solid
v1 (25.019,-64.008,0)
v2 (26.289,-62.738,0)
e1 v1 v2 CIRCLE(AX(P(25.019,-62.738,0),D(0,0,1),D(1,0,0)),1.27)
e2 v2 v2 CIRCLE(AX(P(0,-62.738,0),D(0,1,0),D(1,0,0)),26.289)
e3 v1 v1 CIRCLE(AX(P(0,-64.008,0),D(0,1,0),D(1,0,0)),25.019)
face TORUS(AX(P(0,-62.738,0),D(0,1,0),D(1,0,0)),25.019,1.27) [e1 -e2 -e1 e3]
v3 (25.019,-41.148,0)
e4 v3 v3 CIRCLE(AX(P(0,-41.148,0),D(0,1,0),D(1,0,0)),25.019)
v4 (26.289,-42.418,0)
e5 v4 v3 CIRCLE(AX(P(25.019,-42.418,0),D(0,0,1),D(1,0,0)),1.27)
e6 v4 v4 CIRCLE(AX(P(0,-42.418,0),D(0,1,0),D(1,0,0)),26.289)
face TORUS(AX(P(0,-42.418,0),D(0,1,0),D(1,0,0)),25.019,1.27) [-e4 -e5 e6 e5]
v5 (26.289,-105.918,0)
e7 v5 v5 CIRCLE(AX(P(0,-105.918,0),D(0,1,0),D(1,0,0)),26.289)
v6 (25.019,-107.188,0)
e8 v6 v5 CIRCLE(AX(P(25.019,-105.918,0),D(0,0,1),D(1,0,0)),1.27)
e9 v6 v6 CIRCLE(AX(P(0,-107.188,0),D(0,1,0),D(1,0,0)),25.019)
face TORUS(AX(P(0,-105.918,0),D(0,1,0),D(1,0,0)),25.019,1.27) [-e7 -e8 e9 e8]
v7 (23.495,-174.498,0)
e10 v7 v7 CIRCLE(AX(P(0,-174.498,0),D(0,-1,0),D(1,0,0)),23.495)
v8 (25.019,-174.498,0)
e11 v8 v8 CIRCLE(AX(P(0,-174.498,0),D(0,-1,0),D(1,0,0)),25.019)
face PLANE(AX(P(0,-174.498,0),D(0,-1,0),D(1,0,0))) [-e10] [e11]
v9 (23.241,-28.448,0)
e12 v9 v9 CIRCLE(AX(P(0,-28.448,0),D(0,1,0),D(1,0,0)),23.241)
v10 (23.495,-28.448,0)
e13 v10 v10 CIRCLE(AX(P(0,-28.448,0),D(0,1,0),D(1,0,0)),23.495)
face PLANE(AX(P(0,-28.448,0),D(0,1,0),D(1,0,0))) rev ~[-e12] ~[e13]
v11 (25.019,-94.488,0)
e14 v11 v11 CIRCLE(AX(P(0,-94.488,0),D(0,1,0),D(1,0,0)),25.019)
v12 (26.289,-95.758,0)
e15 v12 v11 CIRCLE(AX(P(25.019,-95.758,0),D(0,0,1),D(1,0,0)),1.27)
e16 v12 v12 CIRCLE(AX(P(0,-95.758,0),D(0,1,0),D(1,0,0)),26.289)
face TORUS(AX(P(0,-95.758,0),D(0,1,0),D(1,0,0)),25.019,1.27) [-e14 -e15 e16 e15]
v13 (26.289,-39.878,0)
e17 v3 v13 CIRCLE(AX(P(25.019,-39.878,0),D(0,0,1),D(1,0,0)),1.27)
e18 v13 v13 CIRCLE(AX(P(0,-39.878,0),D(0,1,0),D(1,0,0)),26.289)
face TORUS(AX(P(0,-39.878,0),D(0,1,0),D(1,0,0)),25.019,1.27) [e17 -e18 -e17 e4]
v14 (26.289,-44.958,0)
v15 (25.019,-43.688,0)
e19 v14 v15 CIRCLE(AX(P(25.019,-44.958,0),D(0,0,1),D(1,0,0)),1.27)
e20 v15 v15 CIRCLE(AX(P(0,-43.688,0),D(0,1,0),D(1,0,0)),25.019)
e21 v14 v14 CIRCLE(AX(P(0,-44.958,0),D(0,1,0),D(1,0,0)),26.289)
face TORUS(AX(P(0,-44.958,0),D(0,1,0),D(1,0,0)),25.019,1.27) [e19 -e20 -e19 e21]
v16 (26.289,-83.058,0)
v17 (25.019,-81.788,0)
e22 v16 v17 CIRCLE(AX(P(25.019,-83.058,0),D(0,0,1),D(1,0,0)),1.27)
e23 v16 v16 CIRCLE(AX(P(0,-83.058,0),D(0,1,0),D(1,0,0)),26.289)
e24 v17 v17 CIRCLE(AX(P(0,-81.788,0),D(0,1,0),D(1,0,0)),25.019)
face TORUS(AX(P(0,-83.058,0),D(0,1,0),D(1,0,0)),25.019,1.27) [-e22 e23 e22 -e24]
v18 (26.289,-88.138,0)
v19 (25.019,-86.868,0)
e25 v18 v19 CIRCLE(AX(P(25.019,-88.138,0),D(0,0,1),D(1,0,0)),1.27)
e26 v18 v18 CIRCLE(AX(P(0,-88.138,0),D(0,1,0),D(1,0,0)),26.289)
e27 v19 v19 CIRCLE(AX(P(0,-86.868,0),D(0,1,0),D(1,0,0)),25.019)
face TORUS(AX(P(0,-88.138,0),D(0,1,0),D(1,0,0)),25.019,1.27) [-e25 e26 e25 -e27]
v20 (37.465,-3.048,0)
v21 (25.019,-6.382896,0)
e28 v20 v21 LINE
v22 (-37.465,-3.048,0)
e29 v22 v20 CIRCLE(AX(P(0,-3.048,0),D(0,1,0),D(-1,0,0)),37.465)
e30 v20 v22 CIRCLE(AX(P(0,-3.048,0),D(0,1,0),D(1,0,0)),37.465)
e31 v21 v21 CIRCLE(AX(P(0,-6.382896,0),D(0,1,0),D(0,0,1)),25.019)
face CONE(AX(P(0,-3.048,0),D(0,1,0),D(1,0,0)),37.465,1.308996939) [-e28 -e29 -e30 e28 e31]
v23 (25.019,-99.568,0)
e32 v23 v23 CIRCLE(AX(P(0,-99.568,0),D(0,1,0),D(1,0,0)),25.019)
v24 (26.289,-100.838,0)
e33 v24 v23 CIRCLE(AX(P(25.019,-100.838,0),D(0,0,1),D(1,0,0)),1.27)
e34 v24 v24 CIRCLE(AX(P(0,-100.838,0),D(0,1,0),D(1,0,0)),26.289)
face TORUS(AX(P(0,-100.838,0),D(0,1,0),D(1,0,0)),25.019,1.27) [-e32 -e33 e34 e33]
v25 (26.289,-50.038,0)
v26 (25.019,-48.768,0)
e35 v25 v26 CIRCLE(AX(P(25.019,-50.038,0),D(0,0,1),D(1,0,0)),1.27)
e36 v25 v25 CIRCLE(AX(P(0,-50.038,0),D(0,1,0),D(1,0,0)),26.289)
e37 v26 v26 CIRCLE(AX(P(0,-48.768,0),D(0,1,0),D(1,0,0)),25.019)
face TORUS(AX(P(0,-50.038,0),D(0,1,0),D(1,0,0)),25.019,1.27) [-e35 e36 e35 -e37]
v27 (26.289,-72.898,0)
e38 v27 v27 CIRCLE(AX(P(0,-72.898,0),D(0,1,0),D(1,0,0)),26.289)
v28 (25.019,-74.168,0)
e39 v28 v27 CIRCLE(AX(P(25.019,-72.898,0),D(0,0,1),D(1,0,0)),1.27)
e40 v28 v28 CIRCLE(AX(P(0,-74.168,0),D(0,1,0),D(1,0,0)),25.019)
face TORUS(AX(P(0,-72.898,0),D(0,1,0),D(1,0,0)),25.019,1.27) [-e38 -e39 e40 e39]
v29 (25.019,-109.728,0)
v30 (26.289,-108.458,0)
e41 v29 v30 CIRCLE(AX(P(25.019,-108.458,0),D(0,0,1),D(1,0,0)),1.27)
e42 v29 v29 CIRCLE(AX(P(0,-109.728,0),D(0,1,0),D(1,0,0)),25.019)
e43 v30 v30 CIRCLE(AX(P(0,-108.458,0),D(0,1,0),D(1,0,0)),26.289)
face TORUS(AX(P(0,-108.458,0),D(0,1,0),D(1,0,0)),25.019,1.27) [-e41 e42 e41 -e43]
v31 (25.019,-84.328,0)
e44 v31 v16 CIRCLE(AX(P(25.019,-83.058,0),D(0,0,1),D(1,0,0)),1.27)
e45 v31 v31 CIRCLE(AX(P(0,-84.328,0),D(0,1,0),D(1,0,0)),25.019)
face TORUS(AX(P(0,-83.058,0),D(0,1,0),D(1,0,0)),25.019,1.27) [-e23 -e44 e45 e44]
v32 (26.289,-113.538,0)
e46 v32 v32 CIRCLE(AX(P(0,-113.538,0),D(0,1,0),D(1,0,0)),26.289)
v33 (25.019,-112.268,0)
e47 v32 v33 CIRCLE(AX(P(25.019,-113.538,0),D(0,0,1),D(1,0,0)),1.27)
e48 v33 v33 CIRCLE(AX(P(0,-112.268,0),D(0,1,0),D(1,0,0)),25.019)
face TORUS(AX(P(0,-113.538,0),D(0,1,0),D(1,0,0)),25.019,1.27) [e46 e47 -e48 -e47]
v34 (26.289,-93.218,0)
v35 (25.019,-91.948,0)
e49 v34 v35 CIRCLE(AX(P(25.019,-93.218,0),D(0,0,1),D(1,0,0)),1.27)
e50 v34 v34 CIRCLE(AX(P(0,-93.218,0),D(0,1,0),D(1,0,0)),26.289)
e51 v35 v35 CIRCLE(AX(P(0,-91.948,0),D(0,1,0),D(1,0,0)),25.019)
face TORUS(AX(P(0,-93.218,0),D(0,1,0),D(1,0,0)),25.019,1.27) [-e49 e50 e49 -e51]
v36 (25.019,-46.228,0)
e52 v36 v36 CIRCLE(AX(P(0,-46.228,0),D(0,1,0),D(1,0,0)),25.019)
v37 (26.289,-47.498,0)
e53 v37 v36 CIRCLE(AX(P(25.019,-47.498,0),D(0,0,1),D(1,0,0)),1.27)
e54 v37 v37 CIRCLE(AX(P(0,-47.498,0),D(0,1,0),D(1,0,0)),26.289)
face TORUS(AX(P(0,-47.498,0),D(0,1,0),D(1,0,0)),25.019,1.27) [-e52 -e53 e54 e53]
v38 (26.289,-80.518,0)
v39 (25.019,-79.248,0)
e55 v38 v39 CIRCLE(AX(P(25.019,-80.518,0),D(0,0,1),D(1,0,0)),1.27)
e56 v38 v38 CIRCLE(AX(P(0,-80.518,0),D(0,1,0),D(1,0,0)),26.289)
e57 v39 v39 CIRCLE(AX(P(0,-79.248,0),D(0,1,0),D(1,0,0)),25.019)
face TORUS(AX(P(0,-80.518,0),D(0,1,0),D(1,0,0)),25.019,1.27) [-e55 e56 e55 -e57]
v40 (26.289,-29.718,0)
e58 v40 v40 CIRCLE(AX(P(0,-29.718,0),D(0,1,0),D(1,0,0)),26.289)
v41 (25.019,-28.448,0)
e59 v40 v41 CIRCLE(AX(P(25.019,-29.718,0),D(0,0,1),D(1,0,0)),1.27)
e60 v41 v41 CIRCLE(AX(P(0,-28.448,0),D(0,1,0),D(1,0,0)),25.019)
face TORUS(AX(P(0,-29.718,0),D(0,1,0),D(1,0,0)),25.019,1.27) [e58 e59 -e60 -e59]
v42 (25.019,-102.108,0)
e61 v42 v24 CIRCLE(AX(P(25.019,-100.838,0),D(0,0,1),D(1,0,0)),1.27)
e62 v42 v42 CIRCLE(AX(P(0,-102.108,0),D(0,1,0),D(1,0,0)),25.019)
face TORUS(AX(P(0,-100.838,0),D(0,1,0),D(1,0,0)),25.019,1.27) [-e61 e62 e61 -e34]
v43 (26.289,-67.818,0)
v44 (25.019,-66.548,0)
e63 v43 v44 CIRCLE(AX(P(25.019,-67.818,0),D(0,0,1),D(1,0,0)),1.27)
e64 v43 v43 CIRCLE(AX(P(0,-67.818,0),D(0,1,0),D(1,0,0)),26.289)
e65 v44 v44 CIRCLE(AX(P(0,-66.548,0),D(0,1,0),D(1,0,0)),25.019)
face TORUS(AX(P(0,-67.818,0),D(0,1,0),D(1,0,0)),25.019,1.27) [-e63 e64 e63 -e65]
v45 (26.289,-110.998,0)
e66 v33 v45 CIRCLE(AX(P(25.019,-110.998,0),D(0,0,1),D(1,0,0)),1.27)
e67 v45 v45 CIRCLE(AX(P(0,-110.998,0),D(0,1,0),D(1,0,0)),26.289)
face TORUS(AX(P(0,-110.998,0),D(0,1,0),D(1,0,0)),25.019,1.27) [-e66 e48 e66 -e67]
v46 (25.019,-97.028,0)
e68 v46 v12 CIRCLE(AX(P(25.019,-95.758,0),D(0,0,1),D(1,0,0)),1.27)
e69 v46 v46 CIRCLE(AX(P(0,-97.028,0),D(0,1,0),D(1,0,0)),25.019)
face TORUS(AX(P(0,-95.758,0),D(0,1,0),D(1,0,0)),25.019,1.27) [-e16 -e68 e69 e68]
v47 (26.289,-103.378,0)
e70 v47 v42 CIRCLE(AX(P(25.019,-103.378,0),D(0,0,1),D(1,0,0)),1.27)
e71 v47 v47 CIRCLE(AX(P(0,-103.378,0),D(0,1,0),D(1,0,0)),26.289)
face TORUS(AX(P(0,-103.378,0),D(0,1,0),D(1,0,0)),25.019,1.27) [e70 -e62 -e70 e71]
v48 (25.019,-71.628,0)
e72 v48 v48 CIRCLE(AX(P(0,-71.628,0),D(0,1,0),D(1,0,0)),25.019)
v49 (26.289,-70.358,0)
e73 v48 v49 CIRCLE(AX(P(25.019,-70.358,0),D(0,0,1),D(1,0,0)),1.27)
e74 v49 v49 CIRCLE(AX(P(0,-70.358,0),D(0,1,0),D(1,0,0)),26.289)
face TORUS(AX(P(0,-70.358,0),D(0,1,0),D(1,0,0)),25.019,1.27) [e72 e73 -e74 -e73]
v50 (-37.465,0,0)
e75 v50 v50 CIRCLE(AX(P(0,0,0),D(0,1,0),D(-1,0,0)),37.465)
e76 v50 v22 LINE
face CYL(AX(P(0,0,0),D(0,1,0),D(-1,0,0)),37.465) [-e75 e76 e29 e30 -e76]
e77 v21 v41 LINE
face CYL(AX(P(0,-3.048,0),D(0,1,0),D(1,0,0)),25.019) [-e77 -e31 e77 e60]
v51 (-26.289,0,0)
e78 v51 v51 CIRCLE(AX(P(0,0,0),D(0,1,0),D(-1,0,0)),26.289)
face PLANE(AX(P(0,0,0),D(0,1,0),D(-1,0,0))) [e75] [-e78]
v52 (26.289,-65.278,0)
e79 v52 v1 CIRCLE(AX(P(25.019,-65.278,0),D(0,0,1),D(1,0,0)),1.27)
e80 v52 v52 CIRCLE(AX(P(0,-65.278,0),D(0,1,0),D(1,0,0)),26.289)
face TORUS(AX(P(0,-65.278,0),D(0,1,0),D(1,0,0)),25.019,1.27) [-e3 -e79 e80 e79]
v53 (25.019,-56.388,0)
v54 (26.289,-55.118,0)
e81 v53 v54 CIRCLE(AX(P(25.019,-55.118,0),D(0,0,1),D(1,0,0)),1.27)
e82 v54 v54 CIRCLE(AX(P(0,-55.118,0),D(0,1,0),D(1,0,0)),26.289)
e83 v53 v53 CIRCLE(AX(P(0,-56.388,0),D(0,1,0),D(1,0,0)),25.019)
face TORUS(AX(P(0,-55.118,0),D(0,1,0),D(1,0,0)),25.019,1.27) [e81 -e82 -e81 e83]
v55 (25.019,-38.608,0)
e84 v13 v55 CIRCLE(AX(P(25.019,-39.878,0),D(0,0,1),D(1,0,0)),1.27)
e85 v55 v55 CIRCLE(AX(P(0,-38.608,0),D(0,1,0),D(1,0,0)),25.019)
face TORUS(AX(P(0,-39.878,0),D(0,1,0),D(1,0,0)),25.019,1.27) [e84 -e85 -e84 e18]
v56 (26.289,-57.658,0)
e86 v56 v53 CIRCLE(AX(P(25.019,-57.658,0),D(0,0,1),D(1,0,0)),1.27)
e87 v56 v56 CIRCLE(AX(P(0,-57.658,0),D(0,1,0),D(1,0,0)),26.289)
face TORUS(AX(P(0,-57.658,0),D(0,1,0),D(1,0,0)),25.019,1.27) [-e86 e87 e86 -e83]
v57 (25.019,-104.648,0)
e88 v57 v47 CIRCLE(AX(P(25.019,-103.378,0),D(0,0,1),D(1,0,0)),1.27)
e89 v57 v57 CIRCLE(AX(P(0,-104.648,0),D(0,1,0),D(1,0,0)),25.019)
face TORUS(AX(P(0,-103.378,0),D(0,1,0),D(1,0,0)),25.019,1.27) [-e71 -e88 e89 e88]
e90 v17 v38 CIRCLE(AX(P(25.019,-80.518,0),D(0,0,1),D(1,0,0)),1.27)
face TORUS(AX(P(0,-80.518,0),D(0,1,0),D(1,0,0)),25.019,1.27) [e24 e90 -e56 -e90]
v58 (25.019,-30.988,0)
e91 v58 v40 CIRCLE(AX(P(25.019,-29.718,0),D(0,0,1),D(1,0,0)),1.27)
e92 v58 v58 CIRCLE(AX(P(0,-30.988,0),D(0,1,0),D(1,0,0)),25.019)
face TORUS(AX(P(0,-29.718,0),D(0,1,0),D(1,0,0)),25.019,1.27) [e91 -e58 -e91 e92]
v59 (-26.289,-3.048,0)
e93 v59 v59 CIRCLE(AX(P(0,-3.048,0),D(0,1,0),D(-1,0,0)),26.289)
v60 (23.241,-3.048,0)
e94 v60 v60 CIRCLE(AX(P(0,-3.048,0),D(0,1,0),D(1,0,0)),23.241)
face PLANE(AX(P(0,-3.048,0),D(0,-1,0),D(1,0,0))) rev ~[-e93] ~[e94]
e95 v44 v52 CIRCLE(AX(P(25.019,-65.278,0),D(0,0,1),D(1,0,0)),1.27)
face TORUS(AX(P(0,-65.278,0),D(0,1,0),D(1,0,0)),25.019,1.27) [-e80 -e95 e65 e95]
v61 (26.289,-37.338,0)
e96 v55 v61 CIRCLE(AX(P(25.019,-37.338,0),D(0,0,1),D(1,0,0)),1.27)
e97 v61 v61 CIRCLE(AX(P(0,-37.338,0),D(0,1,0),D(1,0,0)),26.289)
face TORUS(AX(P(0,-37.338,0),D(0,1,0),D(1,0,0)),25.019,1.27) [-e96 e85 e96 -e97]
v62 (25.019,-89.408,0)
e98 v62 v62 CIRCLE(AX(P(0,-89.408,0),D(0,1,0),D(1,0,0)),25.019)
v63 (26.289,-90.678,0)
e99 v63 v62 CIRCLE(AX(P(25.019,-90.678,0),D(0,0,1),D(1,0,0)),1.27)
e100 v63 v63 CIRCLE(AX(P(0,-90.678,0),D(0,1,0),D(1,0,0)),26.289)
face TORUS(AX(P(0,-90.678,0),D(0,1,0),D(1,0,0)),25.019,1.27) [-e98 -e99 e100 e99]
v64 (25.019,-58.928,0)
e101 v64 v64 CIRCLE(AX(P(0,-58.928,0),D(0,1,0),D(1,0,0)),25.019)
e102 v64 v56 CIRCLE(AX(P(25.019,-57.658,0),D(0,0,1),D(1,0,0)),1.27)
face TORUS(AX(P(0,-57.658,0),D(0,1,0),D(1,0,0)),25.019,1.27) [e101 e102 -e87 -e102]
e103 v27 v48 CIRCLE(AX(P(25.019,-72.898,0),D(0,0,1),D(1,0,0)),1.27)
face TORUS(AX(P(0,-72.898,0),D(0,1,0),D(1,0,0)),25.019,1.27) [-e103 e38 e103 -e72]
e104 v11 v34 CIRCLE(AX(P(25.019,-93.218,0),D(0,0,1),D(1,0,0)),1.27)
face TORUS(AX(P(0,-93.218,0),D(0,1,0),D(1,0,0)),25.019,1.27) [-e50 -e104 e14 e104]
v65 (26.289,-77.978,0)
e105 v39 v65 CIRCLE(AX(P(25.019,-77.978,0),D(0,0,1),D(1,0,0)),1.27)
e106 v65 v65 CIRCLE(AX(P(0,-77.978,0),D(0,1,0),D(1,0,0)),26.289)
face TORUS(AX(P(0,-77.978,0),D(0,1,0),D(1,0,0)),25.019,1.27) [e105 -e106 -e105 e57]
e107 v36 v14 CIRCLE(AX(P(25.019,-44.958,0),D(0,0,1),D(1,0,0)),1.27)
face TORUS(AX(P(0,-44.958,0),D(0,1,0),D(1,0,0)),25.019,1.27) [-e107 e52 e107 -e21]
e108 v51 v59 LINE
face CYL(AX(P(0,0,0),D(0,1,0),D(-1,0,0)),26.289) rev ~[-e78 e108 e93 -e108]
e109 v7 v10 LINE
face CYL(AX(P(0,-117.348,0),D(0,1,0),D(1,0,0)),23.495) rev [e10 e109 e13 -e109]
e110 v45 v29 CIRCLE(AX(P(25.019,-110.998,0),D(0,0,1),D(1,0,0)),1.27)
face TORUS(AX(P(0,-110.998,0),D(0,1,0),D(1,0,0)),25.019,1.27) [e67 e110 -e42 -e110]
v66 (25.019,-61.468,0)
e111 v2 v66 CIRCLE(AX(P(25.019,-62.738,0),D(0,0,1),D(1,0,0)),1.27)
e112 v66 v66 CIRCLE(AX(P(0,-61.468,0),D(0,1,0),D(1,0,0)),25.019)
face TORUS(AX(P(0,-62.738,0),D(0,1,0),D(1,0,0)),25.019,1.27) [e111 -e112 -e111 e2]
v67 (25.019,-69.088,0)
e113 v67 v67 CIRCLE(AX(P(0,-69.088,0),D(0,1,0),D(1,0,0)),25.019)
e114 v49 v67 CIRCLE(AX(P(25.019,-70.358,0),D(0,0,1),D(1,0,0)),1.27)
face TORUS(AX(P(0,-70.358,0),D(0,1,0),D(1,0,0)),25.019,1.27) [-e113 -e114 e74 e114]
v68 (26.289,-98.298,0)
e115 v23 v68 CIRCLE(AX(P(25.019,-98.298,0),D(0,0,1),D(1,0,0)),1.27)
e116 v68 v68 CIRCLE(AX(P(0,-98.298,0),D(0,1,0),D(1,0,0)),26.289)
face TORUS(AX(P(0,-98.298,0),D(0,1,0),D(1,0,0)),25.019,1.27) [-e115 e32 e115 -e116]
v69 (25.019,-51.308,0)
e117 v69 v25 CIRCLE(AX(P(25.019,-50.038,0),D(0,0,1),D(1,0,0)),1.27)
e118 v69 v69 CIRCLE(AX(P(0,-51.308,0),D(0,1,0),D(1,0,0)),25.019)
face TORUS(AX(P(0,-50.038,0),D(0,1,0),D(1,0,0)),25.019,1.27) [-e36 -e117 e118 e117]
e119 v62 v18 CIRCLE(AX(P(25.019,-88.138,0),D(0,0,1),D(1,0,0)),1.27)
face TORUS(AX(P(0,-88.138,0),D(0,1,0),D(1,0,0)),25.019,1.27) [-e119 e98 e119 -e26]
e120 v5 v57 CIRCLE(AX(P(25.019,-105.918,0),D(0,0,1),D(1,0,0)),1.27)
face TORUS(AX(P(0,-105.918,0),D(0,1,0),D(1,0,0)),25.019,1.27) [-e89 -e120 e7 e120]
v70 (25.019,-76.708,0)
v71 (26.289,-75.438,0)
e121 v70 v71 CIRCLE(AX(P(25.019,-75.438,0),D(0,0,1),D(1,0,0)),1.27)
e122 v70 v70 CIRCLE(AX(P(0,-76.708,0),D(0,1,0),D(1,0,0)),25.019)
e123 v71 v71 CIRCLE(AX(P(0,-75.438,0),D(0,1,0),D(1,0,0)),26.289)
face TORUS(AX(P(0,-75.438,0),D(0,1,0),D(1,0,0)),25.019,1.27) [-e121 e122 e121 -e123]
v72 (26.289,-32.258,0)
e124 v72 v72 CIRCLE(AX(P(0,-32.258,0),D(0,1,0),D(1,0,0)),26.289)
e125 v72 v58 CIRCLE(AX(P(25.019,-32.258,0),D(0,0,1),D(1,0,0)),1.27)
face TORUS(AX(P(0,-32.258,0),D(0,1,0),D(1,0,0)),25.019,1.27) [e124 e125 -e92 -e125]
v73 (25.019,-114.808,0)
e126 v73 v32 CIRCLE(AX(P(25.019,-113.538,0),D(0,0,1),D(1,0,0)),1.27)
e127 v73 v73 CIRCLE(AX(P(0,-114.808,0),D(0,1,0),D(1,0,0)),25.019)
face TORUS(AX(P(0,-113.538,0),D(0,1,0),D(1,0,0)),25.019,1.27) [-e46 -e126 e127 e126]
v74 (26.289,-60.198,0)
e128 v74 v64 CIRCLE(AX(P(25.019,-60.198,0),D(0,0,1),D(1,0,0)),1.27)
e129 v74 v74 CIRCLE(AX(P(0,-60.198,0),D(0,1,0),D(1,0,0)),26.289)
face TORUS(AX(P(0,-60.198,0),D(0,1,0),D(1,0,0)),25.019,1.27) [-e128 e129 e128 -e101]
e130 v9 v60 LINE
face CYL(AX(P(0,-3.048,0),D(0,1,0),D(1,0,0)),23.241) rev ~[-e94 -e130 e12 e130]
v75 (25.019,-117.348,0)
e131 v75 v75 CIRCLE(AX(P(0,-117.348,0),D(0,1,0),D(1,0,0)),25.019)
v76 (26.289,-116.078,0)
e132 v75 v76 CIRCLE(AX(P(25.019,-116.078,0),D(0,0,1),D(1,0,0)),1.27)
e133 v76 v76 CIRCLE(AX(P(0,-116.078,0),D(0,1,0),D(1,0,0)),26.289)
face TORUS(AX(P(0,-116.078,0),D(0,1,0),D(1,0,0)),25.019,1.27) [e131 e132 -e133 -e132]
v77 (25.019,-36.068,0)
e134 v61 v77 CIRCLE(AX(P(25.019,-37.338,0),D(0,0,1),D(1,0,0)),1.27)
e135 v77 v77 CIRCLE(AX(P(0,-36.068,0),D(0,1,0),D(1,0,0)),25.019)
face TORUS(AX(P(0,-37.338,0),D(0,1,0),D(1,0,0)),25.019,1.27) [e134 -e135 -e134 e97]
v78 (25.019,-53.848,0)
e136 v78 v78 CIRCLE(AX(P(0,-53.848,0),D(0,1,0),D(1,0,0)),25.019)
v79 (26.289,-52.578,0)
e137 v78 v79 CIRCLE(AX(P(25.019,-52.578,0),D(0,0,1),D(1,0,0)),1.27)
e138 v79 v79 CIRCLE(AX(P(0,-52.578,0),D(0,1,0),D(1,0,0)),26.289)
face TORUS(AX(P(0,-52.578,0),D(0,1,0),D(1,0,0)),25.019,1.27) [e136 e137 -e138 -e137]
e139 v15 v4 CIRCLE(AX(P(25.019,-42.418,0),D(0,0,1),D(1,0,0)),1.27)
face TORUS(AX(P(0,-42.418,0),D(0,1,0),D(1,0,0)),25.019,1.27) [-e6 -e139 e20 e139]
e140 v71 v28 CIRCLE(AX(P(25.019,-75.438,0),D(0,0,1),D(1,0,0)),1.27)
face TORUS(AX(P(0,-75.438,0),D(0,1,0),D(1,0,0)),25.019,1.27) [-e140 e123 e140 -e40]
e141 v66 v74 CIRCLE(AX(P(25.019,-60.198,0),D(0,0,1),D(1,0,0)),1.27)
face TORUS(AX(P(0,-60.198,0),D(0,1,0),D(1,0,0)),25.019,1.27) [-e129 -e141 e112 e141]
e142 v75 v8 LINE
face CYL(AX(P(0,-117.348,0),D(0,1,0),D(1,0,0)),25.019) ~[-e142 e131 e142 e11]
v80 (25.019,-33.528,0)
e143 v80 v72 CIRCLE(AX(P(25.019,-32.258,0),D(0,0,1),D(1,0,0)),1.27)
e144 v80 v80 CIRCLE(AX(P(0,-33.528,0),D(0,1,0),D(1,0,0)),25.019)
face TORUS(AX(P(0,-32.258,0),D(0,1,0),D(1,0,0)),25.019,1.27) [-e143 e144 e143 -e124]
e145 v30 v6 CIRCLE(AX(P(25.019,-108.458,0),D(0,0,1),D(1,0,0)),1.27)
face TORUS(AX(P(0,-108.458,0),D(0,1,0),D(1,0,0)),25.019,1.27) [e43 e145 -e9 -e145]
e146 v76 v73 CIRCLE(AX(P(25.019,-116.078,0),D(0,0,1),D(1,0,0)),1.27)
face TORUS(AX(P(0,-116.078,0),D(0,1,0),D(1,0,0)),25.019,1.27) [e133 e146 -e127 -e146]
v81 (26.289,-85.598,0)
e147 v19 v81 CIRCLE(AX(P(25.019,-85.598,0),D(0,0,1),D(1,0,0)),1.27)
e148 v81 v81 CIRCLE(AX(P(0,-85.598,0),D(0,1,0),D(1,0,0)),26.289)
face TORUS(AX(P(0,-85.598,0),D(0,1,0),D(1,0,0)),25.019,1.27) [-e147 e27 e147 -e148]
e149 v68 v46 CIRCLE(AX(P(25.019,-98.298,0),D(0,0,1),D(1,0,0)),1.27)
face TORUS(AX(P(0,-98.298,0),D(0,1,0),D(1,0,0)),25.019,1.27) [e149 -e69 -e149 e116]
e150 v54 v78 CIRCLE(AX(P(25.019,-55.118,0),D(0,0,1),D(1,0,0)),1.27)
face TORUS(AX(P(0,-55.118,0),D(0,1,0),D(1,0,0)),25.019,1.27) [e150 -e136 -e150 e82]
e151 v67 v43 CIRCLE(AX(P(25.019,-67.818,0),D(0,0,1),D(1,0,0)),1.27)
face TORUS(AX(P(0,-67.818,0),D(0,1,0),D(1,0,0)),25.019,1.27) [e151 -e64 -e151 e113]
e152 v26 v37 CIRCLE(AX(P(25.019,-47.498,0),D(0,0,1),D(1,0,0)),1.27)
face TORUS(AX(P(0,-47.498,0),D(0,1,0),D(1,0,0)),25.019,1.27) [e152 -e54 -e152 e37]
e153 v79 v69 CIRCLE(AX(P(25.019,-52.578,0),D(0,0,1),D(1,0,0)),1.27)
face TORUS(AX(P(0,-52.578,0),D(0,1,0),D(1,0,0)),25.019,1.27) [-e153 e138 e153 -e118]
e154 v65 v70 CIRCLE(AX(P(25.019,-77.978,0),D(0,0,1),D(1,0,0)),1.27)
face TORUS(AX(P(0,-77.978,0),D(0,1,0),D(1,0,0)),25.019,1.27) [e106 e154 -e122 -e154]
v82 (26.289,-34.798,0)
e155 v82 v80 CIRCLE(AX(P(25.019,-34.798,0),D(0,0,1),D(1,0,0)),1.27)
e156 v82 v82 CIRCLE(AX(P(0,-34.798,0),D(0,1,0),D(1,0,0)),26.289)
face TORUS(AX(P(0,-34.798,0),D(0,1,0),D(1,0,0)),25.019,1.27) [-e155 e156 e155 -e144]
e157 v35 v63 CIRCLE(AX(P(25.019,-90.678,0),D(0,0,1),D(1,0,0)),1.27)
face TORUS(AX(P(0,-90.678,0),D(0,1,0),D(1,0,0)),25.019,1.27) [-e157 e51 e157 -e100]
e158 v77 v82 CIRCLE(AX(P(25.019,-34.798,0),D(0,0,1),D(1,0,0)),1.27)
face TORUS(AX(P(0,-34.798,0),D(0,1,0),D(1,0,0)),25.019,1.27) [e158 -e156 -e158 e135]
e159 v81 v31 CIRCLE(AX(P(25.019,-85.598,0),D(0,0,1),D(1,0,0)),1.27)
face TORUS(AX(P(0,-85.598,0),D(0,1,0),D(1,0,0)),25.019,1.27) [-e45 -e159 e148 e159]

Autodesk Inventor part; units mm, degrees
ref_plane "YZ Plane" through (0, 0, 0) normal (1, 0, 0) x (0, 1, 0)
ref_plane "XZ Plane" through (0, 0, 0) normal (0, 1, 0) x (-1, 0, 0)
ref_plane "XY Plane" through (0, 0, 0) normal (0, 0, 1) x (1, 0, 0)
sketch "Sketch1" plane through (0, 0, 0) normal (0, 1, 0) x (-1, 0, 0)
  circle A0 centre (0, 0) radius 37.465
  circle A1 centre (0, 0) radius 26.289
  dimension "d0" = 74.93
  dimension "d1" = 52.578
extrude "Extrusion1" add sketch "Sketch1" against normal blind 3.048
sketch "Sketch2" plane through (0, -3.048, 0) normal (0, -1, 0) x (1, 0, 0)
  circle A0 centre (0, 0) radius 37.465
  circle A1 centre (0, 0) radius 37.465 projected
extrude "Extrusion2" add sketch "Sketch2" along normal blind 6.35 draft -75
sketch "Sketch3" plane through (0, -3.048, 0) normal (0, 1, 0) x (1, 0, 0)
  circle A0 centre (0, 0) radius 23.241
  circle A1 centre (0, 0) radius 26.289 projected
  dimension "d6" = 3.048
extrude "Extrusion3" cut sketch "Sketch3" against normal up to surface (6.35 mm away) contours A0
sketch "Sketch4" plane through (0, -3.048, 0) normal (0, 1, 0) x (1, 0, 0)
  circle A0 centre (0, 0) radius 23.241
  circle A1 centre (0, 0) radius 23.241 projected
  circle A2 centre (0, 0) radius 25.019
  dimension "d9" = 50.038
extrude "Extrusion4" add sketch "Sketch4" against normal blind 25.4
sketch "Sketch5" plane through (0, 0, 0) normal (0, 0, 1) x (1, 0, 0)
  line L0 (-25.019, -28.448) -> (25.019, -28.448) projected
  line L1 (25.019, -28.448) -> (25.019, -29.718)
  circle A0 centre (25.019, -29.718) radius 1.27
  line L2 (23.241, -28.448) -> (-23.241, -28.448) projected
  line L3 (23.241, -28.448) -> (112.141, -28.448) construction
  circle A1 centre (25.019, -32.258) radius 1.27
  circle A2 centre (25.019, -34.798) radius 1.27
  circle A3 centre (25.019, -37.338) radius 1.27
  circle A4 centre (25.019, -39.878) radius 1.27
  circle A5 centre (25.019, -42.418) radius 1.27
  circle A6 centre (25.019, -44.958) radius 1.27
  circle A7 centre (25.019, -47.498) radius 1.27
  circle A8 centre (25.019, -50.038) radius 1.27
  circle A9 centre (25.019, -52.578) radius 1.27
  circle A10 centre (25.019, -55.118) radius 1.27
  circle A11 centre (25.019, -57.658) radius 1.27
  circle A12 centre (25.019, -60.198) radius 1.27
  circle A13 centre (25.019, -62.738) radius 1.27
  circle A14 centre (25.019, -65.278) radius 1.27
  circle A15 centre (25.019, -67.818) radius 1.27
  circle A16 centre (25.019, -70.358) radius 1.27
  circle A17 centre (25.019, -72.898) radius 1.27
  circle A18 centre (25.019, -75.438) radius 1.27
  circle A19 centre (25.019, -77.978) radius 1.27
  circle A20 centre (25.019, -80.518) radius 1.27
  circle A21 centre (25.019, -83.058) radius 1.27
  circle A22 centre (25.019, -85.598) radius 1.27
  circle A23 centre (25.019, -88.138) radius 1.27
  circle A24 centre (25.019, -90.678) radius 1.27
  circle A25 centre (25.019, -93.218) radius 1.27
  circle A26 centre (25.019, -95.758) radius 1.27
  circle A27 centre (25.019, -98.298) radius 1.27
  circle A28 centre (25.019, -100.838) radius 1.27
  circle A29 centre (25.019, -103.378) radius 1.27
  circle A30 centre (25.019, -105.918) radius 1.27
  circle A31 centre (25.019, -108.458) radius 1.27
  circle A32 centre (25.019, -110.998) radius 1.27
  circle A33 centre (25.019, -113.538) radius 1.27
  circle A34 centre (25.019, -116.078) radius 1.27
  line L4 (25.019, -28.448) -> (23.495, -28.448)
  line L5 (23.495, -28.448) -> (23.495, -117.348)
  line L6 (23.495, -117.348) -> (25.019, -117.348)
  line L7 (25.019, -117.348) -> (25.019, -28.448)
  line L8 (0, -140.8176) -> (0, 23.4696) projected
  point P0 (0, 0)
  point P1 (25.019, -30.988)
  point P2 (25.019, -33.528)
  point P3 (25.019, -36.068)
  point P4 (25.019, -38.608)
  point P5 (25.019, -41.148)
  point P6 (25.019, -43.688)
  point P7 (25.019, -46.228)
  point P8 (25.019, -48.768)
  point P9 (25.019, -51.308)
  point P10 (25.019, -53.848)
  point P11 (25.019, -56.388)
  point P12 (25.019, -58.928)
  point P13 (25.019, -61.468)
  point P14 (25.019, -64.008)
  point P15 (25.019, -66.548)
  point P16 (25.019, -69.088)
  point P17 (25.019, -71.628)
  point P18 (25.019, -74.168)
  point P19 (25.019, -76.708)
  point P20 (25.019, -79.248)
  point P21 (25.019, -81.788)
  point P22 (25.019, -84.328)
  point P23 (25.019, -86.868)
  point P24 (25.019, -89.408)
  point P25 (25.019, -91.948)
  point P26 (25.019, -94.488)
  point P27 (25.019, -97.028)
  point P28 (25.019, -99.568)
  point P29 (25.019, -102.108)
  point P30 (25.019, -104.648)
  point P31 (25.019, -107.188)
  point P32 (25.019, -109.728)
  point P33 (25.019, -112.268)
  point P34 (25.019, -114.808)
  dimension "d12" = 1.27
  dimension "d17" = 2.54
  dimension "d22" = 1.524
  dimension "d23" = 88.9
revolve "Revolution1" add sketch "Sketch5" angle 360 about axis through (0, -10, 0) along (0, 1, 0)
sketch "Sketch6" plane through (0, -117.348, 0) normal (0, -1, 0) x (1, 0, 0)
  circle A0 centre (0, 0) radius 23.495
  circle A1 centre (0, 0) radius 23.495 projected
  circle A2 centre (0, 0) radius 25.019
  circle A3 centre (0, 0) radius 25.019 projected
extrude "Extrusion5" add sketch "Sketch6" along normal blind 57.15
properties part number "KF50 bellows"
